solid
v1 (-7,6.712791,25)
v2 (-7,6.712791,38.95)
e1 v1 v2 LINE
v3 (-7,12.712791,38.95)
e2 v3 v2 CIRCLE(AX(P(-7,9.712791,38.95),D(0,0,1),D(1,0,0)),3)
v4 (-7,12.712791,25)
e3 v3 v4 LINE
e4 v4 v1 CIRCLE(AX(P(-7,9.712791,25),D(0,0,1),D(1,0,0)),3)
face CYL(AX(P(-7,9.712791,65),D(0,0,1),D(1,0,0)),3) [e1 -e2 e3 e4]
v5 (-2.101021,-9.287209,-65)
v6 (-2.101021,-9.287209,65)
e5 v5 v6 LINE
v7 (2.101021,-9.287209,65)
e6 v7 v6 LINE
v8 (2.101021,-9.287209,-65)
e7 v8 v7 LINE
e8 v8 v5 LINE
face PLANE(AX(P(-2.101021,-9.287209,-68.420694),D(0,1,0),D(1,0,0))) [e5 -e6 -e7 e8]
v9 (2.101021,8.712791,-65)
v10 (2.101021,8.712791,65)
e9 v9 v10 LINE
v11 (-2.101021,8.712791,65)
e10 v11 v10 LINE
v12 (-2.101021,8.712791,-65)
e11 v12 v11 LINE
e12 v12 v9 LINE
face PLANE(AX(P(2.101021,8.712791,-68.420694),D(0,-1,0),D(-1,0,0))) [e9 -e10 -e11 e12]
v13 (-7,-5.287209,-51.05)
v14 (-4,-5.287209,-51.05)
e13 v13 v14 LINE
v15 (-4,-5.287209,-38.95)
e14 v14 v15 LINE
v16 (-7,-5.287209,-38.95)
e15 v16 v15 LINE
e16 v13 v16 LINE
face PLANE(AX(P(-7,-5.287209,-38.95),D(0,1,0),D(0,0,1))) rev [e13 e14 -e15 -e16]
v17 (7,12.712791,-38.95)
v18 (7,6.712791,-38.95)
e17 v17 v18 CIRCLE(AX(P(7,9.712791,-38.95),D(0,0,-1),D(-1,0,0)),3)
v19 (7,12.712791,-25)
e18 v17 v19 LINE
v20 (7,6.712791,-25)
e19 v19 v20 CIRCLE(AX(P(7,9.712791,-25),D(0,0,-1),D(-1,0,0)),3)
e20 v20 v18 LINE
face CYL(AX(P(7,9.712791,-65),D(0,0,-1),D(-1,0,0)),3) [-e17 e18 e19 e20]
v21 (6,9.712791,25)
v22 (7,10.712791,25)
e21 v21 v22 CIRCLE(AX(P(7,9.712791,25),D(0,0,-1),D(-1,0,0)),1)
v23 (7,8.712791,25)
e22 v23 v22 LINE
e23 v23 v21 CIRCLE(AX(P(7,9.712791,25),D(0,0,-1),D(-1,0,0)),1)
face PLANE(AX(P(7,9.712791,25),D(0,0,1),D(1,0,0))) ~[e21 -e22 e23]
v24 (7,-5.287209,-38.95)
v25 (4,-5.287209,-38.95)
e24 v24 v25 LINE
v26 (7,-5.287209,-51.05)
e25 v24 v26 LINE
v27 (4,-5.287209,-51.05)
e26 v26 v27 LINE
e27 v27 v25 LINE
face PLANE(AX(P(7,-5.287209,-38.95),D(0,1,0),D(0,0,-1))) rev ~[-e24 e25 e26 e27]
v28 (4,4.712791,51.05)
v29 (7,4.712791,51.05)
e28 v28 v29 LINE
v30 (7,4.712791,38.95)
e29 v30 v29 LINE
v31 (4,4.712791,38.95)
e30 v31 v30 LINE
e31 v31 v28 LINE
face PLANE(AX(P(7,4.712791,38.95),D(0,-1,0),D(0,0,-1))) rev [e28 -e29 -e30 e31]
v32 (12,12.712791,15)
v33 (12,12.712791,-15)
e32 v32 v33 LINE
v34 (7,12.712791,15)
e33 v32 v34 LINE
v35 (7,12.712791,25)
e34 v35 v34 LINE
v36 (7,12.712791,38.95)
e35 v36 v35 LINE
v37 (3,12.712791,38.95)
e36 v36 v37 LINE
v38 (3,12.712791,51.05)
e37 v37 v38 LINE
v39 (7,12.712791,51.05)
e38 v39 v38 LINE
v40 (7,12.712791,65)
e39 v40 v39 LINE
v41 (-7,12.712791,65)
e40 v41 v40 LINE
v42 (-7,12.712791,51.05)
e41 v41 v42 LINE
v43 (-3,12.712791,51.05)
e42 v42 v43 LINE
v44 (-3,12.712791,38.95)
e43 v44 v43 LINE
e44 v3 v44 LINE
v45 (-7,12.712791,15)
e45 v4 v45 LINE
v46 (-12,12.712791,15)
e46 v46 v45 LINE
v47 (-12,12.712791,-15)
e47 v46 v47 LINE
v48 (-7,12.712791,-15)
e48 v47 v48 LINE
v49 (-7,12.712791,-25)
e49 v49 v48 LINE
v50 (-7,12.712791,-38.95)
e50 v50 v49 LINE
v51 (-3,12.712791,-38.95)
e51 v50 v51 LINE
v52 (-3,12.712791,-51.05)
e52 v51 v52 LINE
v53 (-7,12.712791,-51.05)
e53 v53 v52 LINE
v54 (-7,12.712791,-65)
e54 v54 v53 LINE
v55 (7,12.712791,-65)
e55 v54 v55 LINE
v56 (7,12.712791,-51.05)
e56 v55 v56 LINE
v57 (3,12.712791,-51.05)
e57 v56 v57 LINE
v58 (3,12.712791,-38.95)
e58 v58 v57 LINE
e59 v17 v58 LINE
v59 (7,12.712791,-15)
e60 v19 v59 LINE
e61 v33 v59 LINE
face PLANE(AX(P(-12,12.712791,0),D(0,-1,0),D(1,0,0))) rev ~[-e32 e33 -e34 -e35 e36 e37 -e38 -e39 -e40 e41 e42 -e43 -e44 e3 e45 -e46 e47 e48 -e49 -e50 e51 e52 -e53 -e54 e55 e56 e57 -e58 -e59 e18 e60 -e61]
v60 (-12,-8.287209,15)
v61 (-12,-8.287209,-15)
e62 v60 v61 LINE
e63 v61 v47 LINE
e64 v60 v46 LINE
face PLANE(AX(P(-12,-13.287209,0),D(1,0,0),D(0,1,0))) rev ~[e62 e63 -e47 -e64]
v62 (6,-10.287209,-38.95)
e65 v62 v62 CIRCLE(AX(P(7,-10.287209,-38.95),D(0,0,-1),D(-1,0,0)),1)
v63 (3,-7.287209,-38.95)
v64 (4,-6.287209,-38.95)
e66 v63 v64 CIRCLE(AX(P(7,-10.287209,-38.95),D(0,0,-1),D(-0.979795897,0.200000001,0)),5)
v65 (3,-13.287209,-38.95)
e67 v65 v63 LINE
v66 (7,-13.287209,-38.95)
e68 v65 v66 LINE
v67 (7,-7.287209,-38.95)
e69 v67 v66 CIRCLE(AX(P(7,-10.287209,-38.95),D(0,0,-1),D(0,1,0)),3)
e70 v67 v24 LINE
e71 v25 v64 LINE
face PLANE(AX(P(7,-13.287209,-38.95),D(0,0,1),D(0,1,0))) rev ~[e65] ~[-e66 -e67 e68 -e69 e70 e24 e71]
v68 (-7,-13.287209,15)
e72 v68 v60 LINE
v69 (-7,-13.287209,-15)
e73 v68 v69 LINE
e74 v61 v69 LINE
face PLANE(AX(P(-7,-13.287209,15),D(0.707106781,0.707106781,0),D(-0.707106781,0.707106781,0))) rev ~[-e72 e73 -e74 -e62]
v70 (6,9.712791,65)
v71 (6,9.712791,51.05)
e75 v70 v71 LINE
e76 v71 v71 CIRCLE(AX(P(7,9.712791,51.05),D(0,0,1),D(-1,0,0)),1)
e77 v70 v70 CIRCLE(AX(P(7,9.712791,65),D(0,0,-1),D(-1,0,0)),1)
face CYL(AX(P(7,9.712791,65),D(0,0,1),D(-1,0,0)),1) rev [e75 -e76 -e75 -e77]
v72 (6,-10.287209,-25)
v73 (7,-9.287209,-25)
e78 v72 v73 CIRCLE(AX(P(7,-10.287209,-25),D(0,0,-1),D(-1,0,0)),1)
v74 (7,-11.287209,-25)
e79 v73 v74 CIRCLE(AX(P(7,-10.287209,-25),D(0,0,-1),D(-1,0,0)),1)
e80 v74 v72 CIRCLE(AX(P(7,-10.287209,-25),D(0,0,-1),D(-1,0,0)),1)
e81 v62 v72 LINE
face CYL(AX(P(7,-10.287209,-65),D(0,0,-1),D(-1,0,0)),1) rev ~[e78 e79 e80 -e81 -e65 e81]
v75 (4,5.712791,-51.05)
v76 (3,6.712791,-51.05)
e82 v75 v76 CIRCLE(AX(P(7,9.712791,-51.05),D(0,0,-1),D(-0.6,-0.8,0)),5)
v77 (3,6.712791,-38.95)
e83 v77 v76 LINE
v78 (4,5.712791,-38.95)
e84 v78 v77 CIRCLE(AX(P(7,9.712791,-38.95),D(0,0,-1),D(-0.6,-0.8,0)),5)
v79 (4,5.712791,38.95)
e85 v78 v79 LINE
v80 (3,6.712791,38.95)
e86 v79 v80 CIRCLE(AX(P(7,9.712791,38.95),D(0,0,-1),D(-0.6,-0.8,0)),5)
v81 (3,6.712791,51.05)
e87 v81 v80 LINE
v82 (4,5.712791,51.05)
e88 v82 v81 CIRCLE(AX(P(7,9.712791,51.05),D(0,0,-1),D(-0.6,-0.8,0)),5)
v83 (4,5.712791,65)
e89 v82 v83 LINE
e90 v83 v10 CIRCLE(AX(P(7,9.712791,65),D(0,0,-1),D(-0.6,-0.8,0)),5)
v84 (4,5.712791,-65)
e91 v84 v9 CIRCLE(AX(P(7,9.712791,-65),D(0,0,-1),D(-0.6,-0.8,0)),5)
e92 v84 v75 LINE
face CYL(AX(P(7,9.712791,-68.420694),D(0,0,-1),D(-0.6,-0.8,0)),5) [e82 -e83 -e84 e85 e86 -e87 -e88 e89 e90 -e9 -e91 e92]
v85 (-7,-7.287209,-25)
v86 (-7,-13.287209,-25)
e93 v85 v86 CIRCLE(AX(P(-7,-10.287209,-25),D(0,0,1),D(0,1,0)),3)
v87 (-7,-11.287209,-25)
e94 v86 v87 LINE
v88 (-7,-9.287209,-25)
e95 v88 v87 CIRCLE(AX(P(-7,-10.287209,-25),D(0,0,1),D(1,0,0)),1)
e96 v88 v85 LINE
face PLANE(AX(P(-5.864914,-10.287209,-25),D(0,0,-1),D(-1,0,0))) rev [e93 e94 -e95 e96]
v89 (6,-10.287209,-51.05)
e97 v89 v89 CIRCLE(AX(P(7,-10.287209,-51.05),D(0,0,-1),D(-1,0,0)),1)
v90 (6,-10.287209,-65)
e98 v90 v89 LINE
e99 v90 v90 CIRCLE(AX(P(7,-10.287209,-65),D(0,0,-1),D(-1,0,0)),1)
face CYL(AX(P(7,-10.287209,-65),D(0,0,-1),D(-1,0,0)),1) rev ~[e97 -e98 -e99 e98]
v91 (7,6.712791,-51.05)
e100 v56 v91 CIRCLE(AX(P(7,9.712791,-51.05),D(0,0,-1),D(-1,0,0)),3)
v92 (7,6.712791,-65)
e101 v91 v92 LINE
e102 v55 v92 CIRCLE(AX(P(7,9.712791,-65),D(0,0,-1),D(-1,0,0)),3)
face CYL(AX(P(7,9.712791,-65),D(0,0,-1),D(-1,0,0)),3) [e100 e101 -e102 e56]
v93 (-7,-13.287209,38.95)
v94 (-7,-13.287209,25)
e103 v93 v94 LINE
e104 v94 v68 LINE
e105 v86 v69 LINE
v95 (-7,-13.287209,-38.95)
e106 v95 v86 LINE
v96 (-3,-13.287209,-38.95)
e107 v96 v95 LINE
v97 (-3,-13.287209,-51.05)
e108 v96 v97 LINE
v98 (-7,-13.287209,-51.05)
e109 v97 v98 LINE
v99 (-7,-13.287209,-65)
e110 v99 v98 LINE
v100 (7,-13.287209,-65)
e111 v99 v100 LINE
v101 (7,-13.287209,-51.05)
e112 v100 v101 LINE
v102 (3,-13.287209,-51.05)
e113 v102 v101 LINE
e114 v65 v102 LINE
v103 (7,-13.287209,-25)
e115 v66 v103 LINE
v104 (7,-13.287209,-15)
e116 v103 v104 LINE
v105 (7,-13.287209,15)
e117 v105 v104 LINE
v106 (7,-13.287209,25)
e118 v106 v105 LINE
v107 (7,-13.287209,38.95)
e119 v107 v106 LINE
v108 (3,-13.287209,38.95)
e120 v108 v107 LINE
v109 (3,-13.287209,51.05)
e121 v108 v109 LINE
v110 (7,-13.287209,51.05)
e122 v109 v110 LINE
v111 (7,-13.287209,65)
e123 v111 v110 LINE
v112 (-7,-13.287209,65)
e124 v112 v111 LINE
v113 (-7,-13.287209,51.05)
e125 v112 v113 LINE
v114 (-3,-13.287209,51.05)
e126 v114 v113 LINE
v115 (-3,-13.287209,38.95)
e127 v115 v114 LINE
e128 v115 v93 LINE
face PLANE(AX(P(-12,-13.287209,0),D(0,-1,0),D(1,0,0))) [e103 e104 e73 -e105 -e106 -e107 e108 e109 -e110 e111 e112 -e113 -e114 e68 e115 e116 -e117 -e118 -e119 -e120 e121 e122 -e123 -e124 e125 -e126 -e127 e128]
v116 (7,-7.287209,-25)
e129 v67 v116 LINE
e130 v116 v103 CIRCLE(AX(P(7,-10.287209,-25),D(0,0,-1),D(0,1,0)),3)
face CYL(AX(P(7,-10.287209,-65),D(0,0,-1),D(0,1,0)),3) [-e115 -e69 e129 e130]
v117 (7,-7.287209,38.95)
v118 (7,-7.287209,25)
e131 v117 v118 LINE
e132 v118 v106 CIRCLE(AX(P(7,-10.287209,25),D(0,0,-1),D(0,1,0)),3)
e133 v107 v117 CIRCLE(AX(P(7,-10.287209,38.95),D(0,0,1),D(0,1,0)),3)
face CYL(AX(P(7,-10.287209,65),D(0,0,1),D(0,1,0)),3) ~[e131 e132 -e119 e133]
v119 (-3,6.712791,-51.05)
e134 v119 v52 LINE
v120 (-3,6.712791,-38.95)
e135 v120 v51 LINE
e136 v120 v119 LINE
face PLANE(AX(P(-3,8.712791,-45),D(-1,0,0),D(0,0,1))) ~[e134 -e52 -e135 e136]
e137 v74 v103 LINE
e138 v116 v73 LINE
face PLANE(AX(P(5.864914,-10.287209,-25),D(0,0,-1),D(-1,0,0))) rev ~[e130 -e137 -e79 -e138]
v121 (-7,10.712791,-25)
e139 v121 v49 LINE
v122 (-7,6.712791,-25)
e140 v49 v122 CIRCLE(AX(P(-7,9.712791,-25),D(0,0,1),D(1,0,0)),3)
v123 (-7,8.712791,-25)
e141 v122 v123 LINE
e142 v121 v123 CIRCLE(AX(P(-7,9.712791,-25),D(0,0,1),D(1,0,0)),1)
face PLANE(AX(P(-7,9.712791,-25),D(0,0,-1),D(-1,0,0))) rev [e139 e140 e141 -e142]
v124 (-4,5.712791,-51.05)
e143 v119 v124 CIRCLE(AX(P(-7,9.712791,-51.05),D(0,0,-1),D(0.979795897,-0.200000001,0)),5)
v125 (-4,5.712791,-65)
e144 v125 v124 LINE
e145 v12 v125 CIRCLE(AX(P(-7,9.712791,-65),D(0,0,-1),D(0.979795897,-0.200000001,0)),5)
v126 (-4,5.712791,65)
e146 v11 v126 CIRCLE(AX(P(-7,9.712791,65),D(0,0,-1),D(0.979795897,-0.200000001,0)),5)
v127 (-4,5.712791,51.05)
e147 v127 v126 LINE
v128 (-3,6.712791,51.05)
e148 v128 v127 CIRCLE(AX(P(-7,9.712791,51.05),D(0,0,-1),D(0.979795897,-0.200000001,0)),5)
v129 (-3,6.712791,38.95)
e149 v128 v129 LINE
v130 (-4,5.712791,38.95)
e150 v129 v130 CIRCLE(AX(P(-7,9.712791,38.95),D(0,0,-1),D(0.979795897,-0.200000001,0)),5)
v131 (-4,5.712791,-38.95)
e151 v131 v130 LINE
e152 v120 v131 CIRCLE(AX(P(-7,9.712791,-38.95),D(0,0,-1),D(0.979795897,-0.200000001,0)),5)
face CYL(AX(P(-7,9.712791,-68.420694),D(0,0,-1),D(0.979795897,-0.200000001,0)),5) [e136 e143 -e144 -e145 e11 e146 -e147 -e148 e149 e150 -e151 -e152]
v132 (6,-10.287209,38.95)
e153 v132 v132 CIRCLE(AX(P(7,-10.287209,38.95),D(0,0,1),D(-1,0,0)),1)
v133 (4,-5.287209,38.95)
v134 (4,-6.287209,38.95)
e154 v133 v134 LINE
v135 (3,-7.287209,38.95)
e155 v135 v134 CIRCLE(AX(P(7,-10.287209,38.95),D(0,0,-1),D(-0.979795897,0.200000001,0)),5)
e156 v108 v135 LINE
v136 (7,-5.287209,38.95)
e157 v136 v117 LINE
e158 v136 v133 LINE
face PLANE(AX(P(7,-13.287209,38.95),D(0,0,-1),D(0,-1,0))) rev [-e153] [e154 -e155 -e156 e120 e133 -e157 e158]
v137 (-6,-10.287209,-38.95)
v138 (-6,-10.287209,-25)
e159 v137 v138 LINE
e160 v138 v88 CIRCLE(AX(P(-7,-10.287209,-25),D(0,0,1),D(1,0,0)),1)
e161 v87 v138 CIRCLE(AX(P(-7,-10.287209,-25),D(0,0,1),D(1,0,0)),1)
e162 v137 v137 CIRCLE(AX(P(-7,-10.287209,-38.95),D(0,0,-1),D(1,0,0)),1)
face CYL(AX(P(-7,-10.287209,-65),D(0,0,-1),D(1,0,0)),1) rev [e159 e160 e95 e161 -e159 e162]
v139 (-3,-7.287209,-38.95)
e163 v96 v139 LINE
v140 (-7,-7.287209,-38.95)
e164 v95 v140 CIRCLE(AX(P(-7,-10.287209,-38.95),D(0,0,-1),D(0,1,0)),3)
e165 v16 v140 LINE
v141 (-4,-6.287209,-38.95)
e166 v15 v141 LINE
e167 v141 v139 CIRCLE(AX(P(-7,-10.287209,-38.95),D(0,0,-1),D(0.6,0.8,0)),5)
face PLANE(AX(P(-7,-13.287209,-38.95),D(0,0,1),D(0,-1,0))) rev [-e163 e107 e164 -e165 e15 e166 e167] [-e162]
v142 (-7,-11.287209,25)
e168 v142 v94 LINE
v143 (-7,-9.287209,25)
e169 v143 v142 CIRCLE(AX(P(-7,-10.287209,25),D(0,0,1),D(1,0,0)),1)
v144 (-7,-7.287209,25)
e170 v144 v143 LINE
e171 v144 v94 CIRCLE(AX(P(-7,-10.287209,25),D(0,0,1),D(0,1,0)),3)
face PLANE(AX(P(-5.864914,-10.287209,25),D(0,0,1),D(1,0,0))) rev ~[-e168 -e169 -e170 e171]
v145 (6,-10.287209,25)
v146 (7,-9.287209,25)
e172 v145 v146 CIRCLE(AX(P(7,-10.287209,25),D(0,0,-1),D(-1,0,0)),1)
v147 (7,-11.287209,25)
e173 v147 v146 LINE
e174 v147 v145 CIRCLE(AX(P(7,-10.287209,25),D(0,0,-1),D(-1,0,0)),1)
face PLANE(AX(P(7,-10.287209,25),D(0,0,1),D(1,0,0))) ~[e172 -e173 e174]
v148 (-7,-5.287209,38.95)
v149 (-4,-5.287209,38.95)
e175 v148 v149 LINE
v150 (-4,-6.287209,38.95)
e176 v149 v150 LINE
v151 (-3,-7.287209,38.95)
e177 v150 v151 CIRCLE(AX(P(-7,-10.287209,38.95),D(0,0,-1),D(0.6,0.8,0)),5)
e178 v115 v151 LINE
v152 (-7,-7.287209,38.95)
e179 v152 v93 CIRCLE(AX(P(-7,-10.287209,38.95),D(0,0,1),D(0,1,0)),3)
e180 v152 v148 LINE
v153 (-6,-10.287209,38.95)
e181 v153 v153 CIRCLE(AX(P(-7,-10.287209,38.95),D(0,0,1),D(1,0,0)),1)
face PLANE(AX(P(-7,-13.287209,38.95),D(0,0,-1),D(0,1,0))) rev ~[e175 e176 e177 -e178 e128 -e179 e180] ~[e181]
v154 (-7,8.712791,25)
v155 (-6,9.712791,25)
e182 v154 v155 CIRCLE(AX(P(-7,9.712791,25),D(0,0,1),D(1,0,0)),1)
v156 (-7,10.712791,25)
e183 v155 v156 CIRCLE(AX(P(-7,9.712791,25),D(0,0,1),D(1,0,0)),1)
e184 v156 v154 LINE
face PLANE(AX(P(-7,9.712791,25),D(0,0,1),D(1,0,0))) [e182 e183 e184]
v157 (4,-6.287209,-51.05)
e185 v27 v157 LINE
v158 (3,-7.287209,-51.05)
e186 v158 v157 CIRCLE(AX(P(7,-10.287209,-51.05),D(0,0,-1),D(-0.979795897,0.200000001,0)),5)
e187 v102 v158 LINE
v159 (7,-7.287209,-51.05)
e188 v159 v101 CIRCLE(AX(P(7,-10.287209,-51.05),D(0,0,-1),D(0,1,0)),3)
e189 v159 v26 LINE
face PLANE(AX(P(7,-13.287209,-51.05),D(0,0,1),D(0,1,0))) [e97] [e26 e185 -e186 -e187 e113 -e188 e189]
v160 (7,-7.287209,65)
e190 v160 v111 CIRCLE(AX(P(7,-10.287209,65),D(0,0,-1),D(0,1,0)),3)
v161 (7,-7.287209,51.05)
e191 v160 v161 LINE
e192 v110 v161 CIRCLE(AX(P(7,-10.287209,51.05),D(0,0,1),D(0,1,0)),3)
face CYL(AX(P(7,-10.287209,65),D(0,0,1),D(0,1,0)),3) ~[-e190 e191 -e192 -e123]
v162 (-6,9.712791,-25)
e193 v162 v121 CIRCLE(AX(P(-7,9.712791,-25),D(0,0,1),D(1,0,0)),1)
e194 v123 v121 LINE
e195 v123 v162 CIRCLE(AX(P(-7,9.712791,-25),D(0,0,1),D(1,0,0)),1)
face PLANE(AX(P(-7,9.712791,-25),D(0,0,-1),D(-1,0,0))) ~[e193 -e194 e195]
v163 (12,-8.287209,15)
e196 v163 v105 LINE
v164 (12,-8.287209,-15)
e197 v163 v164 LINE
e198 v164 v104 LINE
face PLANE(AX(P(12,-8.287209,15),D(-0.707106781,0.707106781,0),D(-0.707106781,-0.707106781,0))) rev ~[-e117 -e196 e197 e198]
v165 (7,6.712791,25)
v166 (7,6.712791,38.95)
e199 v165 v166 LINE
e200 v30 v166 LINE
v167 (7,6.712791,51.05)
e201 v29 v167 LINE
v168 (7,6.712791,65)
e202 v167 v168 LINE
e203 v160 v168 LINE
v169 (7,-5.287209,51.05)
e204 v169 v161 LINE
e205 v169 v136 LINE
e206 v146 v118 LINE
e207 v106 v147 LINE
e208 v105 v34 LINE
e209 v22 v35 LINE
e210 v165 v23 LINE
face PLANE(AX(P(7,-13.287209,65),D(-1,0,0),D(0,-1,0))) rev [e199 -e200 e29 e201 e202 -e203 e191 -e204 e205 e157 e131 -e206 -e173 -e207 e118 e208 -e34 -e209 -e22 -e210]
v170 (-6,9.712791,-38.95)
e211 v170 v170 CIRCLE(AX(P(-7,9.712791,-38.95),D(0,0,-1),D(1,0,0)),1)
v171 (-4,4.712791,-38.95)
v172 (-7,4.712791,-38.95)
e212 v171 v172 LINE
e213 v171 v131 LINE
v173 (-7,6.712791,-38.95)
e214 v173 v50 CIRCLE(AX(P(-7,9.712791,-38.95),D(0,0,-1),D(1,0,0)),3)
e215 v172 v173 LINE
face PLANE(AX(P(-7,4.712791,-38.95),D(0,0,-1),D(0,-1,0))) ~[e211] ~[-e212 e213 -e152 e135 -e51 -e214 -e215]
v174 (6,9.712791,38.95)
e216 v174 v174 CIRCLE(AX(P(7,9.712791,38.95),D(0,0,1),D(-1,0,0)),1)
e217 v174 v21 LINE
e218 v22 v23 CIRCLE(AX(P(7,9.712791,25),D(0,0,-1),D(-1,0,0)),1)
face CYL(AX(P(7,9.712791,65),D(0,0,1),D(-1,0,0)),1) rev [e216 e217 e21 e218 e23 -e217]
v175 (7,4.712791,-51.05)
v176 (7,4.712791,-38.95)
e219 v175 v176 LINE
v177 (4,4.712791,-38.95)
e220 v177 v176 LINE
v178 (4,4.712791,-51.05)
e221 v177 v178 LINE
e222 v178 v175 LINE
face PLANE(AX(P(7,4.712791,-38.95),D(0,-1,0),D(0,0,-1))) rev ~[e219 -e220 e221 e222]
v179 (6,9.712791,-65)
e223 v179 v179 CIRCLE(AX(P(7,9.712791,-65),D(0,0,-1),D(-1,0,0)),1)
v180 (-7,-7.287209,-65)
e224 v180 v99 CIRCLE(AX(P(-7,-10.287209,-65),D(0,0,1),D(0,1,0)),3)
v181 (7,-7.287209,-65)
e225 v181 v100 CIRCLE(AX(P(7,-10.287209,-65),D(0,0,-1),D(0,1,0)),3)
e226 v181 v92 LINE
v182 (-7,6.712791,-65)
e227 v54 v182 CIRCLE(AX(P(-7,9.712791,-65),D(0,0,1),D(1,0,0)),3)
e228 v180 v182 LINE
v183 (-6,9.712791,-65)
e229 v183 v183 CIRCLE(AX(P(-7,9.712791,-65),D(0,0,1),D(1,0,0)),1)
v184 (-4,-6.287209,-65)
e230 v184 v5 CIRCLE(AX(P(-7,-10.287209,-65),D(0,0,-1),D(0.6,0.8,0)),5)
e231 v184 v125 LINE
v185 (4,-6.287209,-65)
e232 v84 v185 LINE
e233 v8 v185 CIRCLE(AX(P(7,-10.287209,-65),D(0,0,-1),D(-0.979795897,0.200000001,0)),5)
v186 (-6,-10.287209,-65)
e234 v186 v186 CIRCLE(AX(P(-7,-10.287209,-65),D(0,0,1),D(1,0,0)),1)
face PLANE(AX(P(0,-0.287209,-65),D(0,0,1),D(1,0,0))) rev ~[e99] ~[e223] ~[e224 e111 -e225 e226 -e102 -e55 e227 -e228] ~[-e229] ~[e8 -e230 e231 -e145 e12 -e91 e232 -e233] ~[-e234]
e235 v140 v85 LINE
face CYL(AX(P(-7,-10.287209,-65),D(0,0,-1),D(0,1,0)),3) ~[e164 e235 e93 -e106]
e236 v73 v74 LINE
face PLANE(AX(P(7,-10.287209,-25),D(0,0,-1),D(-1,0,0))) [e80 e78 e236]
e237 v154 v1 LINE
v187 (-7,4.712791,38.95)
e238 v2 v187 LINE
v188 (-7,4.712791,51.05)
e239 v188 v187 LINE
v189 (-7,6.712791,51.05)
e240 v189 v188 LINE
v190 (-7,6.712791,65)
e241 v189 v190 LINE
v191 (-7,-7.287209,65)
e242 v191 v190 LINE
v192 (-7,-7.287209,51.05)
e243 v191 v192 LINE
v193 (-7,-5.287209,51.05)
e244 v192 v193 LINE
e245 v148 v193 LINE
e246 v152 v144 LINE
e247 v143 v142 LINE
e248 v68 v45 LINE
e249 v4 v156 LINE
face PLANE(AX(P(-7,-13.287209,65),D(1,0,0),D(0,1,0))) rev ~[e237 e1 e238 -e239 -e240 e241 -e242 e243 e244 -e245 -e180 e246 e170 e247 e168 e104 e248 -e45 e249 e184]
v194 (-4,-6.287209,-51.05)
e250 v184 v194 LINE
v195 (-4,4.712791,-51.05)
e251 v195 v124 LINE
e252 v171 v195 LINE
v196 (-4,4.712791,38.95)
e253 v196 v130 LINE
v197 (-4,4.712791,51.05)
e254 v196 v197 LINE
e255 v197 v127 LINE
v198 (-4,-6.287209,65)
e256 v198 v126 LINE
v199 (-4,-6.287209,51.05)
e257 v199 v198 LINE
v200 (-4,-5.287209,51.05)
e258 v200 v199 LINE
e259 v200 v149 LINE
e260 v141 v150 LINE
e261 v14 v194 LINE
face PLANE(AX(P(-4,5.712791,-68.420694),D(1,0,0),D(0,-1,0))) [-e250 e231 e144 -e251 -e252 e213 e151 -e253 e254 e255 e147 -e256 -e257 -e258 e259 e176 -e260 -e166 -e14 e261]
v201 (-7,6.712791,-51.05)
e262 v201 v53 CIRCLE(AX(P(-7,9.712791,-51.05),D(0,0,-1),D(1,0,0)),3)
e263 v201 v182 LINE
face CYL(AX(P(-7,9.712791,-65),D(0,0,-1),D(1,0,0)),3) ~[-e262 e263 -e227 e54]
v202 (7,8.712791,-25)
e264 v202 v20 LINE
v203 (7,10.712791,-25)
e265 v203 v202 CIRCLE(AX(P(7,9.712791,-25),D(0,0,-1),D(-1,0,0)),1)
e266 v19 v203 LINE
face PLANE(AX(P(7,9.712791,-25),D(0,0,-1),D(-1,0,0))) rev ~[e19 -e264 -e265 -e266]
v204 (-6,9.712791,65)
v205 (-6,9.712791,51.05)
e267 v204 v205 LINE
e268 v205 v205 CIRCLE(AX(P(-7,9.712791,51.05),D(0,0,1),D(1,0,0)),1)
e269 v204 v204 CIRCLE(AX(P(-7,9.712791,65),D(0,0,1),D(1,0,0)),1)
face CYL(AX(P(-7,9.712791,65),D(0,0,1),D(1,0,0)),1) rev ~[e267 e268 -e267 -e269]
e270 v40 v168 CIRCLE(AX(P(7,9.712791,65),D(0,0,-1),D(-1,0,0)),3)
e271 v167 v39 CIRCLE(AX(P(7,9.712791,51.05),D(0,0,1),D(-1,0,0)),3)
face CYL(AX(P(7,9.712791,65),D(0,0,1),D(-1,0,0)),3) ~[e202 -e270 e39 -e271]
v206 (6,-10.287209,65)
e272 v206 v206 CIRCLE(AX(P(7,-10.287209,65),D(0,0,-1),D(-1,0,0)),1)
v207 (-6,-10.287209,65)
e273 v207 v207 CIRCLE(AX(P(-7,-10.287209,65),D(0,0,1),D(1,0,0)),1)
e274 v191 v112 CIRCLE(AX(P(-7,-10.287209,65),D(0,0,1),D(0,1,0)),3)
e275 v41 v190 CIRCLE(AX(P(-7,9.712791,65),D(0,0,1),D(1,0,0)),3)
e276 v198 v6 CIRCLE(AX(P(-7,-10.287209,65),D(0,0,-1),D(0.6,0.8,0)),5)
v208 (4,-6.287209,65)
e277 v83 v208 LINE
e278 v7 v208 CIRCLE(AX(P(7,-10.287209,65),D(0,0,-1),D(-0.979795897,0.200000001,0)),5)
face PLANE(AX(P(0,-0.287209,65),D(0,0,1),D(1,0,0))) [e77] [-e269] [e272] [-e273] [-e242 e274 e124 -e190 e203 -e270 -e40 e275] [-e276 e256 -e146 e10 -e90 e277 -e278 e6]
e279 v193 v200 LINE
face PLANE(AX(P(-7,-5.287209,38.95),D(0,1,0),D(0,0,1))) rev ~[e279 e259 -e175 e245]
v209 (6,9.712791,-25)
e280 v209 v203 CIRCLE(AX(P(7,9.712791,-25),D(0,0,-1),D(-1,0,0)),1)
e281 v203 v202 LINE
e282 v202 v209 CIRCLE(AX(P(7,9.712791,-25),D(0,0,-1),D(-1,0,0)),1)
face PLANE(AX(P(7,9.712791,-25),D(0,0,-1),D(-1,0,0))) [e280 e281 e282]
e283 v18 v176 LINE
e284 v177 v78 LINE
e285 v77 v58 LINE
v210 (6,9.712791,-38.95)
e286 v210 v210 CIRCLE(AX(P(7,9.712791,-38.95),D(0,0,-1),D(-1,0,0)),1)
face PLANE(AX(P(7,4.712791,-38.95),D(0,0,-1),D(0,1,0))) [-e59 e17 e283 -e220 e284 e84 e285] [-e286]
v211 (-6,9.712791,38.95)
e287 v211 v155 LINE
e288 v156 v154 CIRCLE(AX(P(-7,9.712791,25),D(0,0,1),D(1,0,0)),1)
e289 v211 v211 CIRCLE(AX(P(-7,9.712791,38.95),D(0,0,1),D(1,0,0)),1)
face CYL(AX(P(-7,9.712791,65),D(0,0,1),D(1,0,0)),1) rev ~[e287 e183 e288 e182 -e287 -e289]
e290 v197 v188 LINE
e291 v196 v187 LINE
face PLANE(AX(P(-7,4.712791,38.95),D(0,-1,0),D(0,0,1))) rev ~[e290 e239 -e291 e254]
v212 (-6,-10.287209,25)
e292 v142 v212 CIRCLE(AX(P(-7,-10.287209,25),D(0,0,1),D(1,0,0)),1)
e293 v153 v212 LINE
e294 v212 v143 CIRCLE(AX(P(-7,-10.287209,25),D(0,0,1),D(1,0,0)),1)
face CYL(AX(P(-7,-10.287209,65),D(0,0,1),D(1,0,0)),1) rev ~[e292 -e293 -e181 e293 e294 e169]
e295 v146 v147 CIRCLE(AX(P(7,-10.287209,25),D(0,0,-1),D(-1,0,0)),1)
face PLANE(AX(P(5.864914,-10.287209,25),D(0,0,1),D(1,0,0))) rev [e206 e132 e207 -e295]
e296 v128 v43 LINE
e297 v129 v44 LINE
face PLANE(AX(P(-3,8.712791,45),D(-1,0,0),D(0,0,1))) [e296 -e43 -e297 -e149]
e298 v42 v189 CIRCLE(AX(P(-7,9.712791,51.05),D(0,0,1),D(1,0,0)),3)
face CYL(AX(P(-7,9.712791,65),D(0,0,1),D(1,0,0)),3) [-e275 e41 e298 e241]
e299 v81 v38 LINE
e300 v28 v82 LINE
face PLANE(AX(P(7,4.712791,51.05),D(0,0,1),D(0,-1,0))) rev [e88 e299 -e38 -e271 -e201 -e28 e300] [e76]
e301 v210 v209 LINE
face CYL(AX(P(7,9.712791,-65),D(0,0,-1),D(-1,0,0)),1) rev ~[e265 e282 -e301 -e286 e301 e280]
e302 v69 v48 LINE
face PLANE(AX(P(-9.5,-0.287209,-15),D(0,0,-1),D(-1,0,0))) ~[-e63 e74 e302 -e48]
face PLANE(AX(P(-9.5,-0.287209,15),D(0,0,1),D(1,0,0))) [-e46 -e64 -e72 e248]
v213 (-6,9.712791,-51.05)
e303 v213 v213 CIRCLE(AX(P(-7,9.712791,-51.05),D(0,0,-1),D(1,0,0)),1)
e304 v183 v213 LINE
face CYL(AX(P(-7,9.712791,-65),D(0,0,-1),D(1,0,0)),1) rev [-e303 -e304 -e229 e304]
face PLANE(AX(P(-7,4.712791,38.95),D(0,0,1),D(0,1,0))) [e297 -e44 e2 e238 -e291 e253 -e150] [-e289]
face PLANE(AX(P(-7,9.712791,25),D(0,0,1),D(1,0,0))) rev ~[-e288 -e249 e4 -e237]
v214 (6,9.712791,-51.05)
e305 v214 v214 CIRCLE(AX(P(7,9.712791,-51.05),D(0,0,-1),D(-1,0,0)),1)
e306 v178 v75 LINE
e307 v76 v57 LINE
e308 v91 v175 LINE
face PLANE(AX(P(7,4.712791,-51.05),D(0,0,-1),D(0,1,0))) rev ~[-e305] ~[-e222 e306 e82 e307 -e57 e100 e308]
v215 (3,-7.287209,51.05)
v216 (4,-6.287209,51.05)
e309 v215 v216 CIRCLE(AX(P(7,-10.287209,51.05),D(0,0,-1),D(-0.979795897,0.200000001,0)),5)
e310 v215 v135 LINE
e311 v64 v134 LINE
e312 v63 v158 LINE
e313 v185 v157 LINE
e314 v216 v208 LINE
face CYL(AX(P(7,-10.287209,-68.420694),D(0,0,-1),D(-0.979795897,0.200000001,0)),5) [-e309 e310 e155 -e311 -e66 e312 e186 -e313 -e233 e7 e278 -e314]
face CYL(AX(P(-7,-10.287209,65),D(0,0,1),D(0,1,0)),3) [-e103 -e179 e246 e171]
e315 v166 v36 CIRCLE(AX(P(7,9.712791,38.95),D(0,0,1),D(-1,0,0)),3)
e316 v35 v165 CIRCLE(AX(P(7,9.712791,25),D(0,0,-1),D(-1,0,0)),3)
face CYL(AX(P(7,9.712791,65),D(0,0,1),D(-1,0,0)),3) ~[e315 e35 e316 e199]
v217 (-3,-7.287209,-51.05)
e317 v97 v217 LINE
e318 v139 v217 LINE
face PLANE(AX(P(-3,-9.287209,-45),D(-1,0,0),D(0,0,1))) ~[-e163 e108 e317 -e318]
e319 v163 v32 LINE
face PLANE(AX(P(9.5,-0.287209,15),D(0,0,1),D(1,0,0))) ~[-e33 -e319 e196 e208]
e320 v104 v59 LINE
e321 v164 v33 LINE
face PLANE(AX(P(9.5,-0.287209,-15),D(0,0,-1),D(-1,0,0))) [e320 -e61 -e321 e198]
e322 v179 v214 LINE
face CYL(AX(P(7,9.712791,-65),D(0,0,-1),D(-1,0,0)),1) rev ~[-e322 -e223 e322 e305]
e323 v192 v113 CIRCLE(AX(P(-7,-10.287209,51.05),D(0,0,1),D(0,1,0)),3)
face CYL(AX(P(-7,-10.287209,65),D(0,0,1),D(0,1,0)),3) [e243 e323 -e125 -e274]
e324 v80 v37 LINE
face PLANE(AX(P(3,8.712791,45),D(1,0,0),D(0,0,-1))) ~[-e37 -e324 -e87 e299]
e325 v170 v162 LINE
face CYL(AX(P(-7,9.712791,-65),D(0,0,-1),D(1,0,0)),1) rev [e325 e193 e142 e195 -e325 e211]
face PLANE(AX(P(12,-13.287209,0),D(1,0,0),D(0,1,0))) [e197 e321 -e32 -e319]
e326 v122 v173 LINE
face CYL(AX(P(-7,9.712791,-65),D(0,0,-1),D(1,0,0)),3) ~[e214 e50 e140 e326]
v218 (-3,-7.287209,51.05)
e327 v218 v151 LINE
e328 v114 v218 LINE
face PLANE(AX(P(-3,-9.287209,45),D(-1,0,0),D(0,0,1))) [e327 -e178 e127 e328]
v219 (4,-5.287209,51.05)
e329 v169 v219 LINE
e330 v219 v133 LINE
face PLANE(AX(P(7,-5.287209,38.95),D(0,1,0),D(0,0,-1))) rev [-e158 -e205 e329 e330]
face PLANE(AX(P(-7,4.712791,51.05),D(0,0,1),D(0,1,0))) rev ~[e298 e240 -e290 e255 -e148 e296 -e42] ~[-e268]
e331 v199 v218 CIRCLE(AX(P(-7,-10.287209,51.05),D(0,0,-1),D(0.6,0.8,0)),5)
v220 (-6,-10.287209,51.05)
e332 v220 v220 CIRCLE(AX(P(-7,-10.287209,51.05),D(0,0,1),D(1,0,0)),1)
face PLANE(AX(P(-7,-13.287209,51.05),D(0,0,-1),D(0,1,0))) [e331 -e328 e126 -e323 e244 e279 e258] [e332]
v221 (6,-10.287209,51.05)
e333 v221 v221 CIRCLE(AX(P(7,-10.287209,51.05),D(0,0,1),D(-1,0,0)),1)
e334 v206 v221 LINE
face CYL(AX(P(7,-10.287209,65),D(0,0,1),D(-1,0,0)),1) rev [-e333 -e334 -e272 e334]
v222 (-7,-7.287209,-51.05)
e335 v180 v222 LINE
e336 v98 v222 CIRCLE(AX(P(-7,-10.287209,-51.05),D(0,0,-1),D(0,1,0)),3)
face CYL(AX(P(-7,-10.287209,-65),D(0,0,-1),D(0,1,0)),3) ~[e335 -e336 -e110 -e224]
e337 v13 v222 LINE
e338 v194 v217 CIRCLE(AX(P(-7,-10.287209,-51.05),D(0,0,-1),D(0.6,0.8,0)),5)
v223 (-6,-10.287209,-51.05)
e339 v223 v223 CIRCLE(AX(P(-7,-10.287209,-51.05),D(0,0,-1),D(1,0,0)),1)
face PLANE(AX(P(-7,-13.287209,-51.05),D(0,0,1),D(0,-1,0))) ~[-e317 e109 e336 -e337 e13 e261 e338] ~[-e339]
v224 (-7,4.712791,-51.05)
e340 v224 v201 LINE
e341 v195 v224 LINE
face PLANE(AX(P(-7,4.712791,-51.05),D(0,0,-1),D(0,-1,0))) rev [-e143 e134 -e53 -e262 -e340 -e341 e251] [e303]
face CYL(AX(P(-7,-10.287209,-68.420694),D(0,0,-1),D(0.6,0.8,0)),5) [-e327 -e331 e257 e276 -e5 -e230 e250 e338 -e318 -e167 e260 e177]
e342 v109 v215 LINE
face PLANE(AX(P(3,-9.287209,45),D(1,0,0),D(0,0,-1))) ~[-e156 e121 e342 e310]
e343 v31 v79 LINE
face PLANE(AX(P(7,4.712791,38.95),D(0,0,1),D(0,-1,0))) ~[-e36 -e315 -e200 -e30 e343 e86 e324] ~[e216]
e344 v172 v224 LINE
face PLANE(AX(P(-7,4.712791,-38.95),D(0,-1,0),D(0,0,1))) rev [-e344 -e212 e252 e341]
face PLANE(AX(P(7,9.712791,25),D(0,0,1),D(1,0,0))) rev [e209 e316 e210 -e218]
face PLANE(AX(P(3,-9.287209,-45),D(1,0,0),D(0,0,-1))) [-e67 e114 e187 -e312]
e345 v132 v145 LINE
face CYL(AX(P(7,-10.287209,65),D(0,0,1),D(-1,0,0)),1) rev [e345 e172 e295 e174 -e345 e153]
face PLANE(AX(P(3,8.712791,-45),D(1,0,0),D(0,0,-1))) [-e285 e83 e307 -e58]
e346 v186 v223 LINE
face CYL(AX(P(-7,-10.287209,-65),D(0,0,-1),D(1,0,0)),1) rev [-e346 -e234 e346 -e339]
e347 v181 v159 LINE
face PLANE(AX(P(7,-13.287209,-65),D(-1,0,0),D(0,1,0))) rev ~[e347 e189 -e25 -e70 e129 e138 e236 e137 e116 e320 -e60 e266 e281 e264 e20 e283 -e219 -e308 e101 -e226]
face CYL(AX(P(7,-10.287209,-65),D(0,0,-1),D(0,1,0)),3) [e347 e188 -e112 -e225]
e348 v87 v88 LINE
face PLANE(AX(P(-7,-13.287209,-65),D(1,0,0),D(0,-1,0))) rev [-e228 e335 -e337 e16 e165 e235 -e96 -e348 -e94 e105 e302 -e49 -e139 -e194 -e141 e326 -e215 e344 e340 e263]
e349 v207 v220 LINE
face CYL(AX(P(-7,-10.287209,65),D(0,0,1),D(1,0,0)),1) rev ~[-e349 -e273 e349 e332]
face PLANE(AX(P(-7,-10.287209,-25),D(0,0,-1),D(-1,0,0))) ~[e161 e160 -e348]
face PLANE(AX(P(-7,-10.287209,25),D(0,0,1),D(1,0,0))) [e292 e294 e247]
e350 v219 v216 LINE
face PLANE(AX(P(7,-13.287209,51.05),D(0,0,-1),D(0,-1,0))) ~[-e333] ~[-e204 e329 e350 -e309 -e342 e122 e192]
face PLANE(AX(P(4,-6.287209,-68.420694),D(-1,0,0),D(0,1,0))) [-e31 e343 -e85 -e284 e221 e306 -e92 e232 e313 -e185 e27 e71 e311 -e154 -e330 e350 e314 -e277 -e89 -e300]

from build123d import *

# Parameters (mm, degrees)
SKETCH_1_W               = 24
SKETCH_1_H               = 26
EXTRUDE_1_DEPTH          = 65
SKETCH_7_W               = 5
SKETCH_7_H               = 26
CUT_EXTRUDE_5_DEPTH      = 50
SKETCH_4_R               = 3
EXTRUDE_3_DEPTH          = 40
SKETCH_5_W               = 12.1
SKETCH_5_H               = 8
CUT_EXTRUDE_3_DEPTH      = 4
SKETCH_6_R               = 1
CUT_EXTRUDE_4_DEPTH      = 40
MIRROR_2_COPY_1_SKETCH_W = 5
MIRROR_2_COPY_1_SKETCH_H = 26
MIRROR_2_COPY_1_DEPTH    = 50
MIRROR_2_COPY_2_SKETCH_R = 3
MIRROR_2_COPY_2_DEPTH    = 40
MIRROR_2_COPY_3_SKETCH_W = 12.1
MIRROR_2_COPY_3_SKETCH_H = 8
MIRROR_2_COPY_3_DEPTH    = 4
MIRROR_2_COPY_4_SKETCH_R = 1
MIRROR_2_COPY_4_DEPTH    = 40
CUT_EXTRUDE_7_DEPTH      = 68.420693576
CUT_EXTRUDE_7_DEPTH_BACK = 68.420693576
CUT_EXTRUDE_8_REACH      = 83.979


with BuildPart() as part:
    # Эскиз1 → Бобышка-Вытянуть1 (new, symmetric)
    with BuildSketch(Plane.XY):
        with Locations((0, -0.287208972)):
            Rectangle(SKETCH_1_W, SKETCH_1_H)
    extrude(amount=EXTRUDE_1_DEPTH, both=True)

    # Эскиз7 → Вырез-Вытянуть5 (cut)
    with BuildSketch(Plane.XY.offset(65)):
        with Locations((-9.5, -0.287208972)):
            Rectangle(SKETCH_7_W, SKETCH_7_H)
    cut_extrude_5 = extrude(amount=-CUT_EXTRUDE_5_DEPTH, mode=Mode.SUBTRACT)

    # Эскиз4 → Бобышка-Вытянуть3 (add)
    with BuildSketch(Plane.XY.offset(65)):
        with BuildLine():
            ThreePointArc((-4, -10.287208972), (-4.878679656, -8.165888628), (-7, -7.287208972))
            Line((-7, -7.287208972), (-7, -13.287208972))
            ThreePointArc((-7, -13.287208972), (-4.878679656, -12.408529315), (-4, -10.287208972))
        make_face()
        with BuildLine():
            Line((-7, -13.287208972), (-7, -7.287208972))
            ThreePointArc((-7, -7.287208972), (-10, -10.287208972), (-7, -13.287208972))
        make_face()
        with Locations((-7, 9.712791028)):
            Circle(SKETCH_4_R)
    extrude_3 = extrude(amount=-EXTRUDE_3_DEPTH)

    # Эскиз5 → Вырез-Вытянуть3 (cut, symmetric)
    with BuildSketch(Plane.ZY.offset(7)):
        with Locations((45, -9.287208972)):
            Rectangle(SKETCH_5_W, SKETCH_5_H)
        with Locations((45, 8.712791028)):
            Rectangle(SKETCH_5_W, SKETCH_5_H)
    cut_extrude_3 = extrude(amount=CUT_EXTRUDE_3_DEPTH, both=True, mode=Mode.SUBTRACT)

    # Эскиз6 → Вырез-Вытянуть4 (cut)
    with BuildSketch(Plane.XY.offset(65)):
        with Locations((-7, 9.712791028)):
            Circle(SKETCH_6_R)
        with Locations((-7, -10.287208972)):
            Circle(SKETCH_6_R)
    cut_extrude_4 = extrude(amount=-CUT_EXTRUDE_4_DEPTH, mode=Mode.SUBTRACT)

    # Зеркальное отражение1: Вырез-Вытянуть5, Бобышка-Вытянуть3, Вырез-Вытянуть3, Вырез-Вытянуть4 across plane
    add(cut_extrude_5.mirror(Plane.XY), mode=Mode.SUBTRACT)
    add(extrude_3.mirror(Plane.XY))
    add(cut_extrude_3.mirror(Plane.XY), mode=Mode.SUBTRACT)
    add(cut_extrude_4.mirror(Plane.XY), mode=Mode.SUBTRACT)

    # Зеркальное отражение2: Вырез-Вытянуть5, Бобышка-Вытянуть3, Вырез-Вытянуть3, Вырез-Вытянуть4 across plane
    add(cut_extrude_5.mirror(Plane(origin=(0, 0, 0), x_dir=(0, 0, 1), z_dir=(1, 0, 0))), mode=Mode.SUBTRACT)
    add(extrude_3.mirror(Plane(origin=(0, 0, 0), x_dir=(0, 0, 1), z_dir=(1, 0, 0))))
    add(cut_extrude_3.mirror(Plane(origin=(0, 0, 0), x_dir=(0, 0, 1), z_dir=(1, 0, 0))), mode=Mode.SUBTRACT)
    add(cut_extrude_4.mirror(Plane(origin=(0, 0, 0), x_dir=(0, 0, 1), z_dir=(1, 0, 0))), mode=Mode.SUBTRACT)

    # Зеркальное отражение2 copy 1 sketch → Зеркальное отражение2 copy 1 (cut)
    with BuildSketch(Plane(origin=(0, 0, -65), x_dir=(-1, 0, 0), z_dir=(0, 0, -1))):
        with Locations((-9.5, -0.287208972)):
            Rectangle(MIRROR_2_COPY_1_SKETCH_W, MIRROR_2_COPY_1_SKETCH_H)
    extrude(amount=-MIRROR_2_COPY_1_DEPTH, mode=Mode.SUBTRACT)

    # Зеркальное отражение2 copy 2 sketch → Зеркальное отражение2 copy 2 (add)
    with BuildSketch(Plane(origin=(0, 0, -65), x_dir=(-1, 0, 0), z_dir=(0, 0, -1))):
        with BuildLine():
            ThreePointArc((-4, -10.287208972), (-4.878679656, -8.165888628), (-7, -7.287208972))
            Line((-7, -7.287208972), (-7, -13.287208972))
            ThreePointArc((-7, -13.287208972), (-4.878679656, -12.408529315), (-4, -10.287208972))
        make_face()
        with BuildLine():
            Line((-7, -13.287208972), (-7, -7.287208972))
            ThreePointArc((-7, -7.287208972), (-10, -10.287208972), (-7, -13.287208972))
        make_face()
        with Locations((-7, 9.712791028)):
            Circle(MIRROR_2_COPY_2_SKETCH_R)
    extrude(amount=-MIRROR_2_COPY_2_DEPTH)

    # Зеркальное отражение2 copy 3 sketch → Зеркальное отражение2 copy 3 (cut, symmetric)
    with BuildSketch(Plane(origin=(7, 0, 0), x_dir=(0, 0, -1), z_dir=(1, 0, 0))):
        with Locations((45, -9.287208972)):
            Rectangle(MIRROR_2_COPY_3_SKETCH_W, MIRROR_2_COPY_3_SKETCH_H)
        with Locations((45, 8.712791028)):
            Rectangle(MIRROR_2_COPY_3_SKETCH_W, MIRROR_2_COPY_3_SKETCH_H)
    extrude(amount=MIRROR_2_COPY_3_DEPTH, both=True, mode=Mode.SUBTRACT)

    # Зеркальное отражение2 copy 4 sketch → Зеркальное отражение2 copy 4 (cut)
    with BuildSketch(Plane(origin=(0, 0, -65), x_dir=(-1, 0, 0), z_dir=(0, 0, -1))):
        with Locations((-7, 9.712791028)):
            Circle(MIRROR_2_COPY_4_SKETCH_R)
        with Locations((-7, -10.287208972)):
            Circle(MIRROR_2_COPY_4_SKETCH_R)
    extrude(amount=-MIRROR_2_COPY_4_DEPTH, mode=Mode.SUBTRACT)

    # Эскиз9 → Вырез-Вытянуть7 (cut, two sides: drawn at the far end of the back side and taken through both)
    with BuildSketch(Plane.XY.offset(-CUT_EXTRUDE_7_DEPTH_BACK)):
        with BuildLine():
            Line((0, -9.287208972), (0, 8.712791028))
            Line((0, 8.712791028), (-2.101020514, 8.712791028))
            ThreePointArc((-2.101020514, 8.712791028), (-2.775255129, 7.038556414), (-4, 5.712791028))
            Line((-4, 5.712791028), (-4, -6.287208972))
            ThreePointArc((-4, -6.287208972), (-2.775255129, -7.612974358), (-2.101020514, -9.287208972))
            Line((-2.101020514, -9.287208972), (0, -9.287208972))
        make_face()
        with BuildLine():
            Line((2.101020514, 8.712791028), (0, 8.712791028))
            Line((0, 8.712791028), (0, -9.287208972))
            Line((0, -9.287208972), (2.101020514, -9.287208972))
            ThreePointArc((2.101020514, -9.287208972), (2.775255129, -7.612974358), (4, -6.287208972))
            Line((4, -6.287208972), (4, 5.712791028))
            ThreePointArc((4, 5.712791028), (2.775255129, 7.038556414), (2.101020514, 8.712791028))
        make_face()
    extrude(amount=CUT_EXTRUDE_7_DEPTH + CUT_EXTRUDE_7_DEPTH_BACK, mode=Mode.SUBTRACT)

    # Эскиз10 → Вырез-Вытянуть8 (cut, up to next)
    with BuildSketch(Plane.XY.offset(15), mode=Mode.PRIVATE) as cut_extrude_8_sk1:
        Polygon((-7, -13.287208972), (-12, -8.287208972), (-12, -13.287208972), align=None)
    cut_extrude_8_tool1 = extrude(cut_extrude_8_sk1.sketch, amount=-CUT_EXTRUDE_8_REACH, mode=Mode.PRIVATE) & part.part
    # Эскиз10 → Вырез-Вытянуть8 (cut, up to next)
    with BuildSketch(Plane.XY.offset(15), mode=Mode.PRIVATE) as cut_extrude_8_sk2:
        Polygon((7, -13.287208972), (12, -13.287208972), (12, -8.287208972), align=None)
    cut_extrude_8_tool2 = extrude(cut_extrude_8_sk2.sketch, amount=-CUT_EXTRUDE_8_REACH, mode=Mode.PRIVATE) & part.part
    add(cut_extrude_8_tool1.solids().sort_by_distance((-10.333333, -11.620542, 15))[0], mode=Mode.SUBTRACT)
    add(cut_extrude_8_tool2.solids().sort_by_distance((10.333333, -11.620542, 15))[0], mode=Mode.SUBTRACT)


solid = part.part
